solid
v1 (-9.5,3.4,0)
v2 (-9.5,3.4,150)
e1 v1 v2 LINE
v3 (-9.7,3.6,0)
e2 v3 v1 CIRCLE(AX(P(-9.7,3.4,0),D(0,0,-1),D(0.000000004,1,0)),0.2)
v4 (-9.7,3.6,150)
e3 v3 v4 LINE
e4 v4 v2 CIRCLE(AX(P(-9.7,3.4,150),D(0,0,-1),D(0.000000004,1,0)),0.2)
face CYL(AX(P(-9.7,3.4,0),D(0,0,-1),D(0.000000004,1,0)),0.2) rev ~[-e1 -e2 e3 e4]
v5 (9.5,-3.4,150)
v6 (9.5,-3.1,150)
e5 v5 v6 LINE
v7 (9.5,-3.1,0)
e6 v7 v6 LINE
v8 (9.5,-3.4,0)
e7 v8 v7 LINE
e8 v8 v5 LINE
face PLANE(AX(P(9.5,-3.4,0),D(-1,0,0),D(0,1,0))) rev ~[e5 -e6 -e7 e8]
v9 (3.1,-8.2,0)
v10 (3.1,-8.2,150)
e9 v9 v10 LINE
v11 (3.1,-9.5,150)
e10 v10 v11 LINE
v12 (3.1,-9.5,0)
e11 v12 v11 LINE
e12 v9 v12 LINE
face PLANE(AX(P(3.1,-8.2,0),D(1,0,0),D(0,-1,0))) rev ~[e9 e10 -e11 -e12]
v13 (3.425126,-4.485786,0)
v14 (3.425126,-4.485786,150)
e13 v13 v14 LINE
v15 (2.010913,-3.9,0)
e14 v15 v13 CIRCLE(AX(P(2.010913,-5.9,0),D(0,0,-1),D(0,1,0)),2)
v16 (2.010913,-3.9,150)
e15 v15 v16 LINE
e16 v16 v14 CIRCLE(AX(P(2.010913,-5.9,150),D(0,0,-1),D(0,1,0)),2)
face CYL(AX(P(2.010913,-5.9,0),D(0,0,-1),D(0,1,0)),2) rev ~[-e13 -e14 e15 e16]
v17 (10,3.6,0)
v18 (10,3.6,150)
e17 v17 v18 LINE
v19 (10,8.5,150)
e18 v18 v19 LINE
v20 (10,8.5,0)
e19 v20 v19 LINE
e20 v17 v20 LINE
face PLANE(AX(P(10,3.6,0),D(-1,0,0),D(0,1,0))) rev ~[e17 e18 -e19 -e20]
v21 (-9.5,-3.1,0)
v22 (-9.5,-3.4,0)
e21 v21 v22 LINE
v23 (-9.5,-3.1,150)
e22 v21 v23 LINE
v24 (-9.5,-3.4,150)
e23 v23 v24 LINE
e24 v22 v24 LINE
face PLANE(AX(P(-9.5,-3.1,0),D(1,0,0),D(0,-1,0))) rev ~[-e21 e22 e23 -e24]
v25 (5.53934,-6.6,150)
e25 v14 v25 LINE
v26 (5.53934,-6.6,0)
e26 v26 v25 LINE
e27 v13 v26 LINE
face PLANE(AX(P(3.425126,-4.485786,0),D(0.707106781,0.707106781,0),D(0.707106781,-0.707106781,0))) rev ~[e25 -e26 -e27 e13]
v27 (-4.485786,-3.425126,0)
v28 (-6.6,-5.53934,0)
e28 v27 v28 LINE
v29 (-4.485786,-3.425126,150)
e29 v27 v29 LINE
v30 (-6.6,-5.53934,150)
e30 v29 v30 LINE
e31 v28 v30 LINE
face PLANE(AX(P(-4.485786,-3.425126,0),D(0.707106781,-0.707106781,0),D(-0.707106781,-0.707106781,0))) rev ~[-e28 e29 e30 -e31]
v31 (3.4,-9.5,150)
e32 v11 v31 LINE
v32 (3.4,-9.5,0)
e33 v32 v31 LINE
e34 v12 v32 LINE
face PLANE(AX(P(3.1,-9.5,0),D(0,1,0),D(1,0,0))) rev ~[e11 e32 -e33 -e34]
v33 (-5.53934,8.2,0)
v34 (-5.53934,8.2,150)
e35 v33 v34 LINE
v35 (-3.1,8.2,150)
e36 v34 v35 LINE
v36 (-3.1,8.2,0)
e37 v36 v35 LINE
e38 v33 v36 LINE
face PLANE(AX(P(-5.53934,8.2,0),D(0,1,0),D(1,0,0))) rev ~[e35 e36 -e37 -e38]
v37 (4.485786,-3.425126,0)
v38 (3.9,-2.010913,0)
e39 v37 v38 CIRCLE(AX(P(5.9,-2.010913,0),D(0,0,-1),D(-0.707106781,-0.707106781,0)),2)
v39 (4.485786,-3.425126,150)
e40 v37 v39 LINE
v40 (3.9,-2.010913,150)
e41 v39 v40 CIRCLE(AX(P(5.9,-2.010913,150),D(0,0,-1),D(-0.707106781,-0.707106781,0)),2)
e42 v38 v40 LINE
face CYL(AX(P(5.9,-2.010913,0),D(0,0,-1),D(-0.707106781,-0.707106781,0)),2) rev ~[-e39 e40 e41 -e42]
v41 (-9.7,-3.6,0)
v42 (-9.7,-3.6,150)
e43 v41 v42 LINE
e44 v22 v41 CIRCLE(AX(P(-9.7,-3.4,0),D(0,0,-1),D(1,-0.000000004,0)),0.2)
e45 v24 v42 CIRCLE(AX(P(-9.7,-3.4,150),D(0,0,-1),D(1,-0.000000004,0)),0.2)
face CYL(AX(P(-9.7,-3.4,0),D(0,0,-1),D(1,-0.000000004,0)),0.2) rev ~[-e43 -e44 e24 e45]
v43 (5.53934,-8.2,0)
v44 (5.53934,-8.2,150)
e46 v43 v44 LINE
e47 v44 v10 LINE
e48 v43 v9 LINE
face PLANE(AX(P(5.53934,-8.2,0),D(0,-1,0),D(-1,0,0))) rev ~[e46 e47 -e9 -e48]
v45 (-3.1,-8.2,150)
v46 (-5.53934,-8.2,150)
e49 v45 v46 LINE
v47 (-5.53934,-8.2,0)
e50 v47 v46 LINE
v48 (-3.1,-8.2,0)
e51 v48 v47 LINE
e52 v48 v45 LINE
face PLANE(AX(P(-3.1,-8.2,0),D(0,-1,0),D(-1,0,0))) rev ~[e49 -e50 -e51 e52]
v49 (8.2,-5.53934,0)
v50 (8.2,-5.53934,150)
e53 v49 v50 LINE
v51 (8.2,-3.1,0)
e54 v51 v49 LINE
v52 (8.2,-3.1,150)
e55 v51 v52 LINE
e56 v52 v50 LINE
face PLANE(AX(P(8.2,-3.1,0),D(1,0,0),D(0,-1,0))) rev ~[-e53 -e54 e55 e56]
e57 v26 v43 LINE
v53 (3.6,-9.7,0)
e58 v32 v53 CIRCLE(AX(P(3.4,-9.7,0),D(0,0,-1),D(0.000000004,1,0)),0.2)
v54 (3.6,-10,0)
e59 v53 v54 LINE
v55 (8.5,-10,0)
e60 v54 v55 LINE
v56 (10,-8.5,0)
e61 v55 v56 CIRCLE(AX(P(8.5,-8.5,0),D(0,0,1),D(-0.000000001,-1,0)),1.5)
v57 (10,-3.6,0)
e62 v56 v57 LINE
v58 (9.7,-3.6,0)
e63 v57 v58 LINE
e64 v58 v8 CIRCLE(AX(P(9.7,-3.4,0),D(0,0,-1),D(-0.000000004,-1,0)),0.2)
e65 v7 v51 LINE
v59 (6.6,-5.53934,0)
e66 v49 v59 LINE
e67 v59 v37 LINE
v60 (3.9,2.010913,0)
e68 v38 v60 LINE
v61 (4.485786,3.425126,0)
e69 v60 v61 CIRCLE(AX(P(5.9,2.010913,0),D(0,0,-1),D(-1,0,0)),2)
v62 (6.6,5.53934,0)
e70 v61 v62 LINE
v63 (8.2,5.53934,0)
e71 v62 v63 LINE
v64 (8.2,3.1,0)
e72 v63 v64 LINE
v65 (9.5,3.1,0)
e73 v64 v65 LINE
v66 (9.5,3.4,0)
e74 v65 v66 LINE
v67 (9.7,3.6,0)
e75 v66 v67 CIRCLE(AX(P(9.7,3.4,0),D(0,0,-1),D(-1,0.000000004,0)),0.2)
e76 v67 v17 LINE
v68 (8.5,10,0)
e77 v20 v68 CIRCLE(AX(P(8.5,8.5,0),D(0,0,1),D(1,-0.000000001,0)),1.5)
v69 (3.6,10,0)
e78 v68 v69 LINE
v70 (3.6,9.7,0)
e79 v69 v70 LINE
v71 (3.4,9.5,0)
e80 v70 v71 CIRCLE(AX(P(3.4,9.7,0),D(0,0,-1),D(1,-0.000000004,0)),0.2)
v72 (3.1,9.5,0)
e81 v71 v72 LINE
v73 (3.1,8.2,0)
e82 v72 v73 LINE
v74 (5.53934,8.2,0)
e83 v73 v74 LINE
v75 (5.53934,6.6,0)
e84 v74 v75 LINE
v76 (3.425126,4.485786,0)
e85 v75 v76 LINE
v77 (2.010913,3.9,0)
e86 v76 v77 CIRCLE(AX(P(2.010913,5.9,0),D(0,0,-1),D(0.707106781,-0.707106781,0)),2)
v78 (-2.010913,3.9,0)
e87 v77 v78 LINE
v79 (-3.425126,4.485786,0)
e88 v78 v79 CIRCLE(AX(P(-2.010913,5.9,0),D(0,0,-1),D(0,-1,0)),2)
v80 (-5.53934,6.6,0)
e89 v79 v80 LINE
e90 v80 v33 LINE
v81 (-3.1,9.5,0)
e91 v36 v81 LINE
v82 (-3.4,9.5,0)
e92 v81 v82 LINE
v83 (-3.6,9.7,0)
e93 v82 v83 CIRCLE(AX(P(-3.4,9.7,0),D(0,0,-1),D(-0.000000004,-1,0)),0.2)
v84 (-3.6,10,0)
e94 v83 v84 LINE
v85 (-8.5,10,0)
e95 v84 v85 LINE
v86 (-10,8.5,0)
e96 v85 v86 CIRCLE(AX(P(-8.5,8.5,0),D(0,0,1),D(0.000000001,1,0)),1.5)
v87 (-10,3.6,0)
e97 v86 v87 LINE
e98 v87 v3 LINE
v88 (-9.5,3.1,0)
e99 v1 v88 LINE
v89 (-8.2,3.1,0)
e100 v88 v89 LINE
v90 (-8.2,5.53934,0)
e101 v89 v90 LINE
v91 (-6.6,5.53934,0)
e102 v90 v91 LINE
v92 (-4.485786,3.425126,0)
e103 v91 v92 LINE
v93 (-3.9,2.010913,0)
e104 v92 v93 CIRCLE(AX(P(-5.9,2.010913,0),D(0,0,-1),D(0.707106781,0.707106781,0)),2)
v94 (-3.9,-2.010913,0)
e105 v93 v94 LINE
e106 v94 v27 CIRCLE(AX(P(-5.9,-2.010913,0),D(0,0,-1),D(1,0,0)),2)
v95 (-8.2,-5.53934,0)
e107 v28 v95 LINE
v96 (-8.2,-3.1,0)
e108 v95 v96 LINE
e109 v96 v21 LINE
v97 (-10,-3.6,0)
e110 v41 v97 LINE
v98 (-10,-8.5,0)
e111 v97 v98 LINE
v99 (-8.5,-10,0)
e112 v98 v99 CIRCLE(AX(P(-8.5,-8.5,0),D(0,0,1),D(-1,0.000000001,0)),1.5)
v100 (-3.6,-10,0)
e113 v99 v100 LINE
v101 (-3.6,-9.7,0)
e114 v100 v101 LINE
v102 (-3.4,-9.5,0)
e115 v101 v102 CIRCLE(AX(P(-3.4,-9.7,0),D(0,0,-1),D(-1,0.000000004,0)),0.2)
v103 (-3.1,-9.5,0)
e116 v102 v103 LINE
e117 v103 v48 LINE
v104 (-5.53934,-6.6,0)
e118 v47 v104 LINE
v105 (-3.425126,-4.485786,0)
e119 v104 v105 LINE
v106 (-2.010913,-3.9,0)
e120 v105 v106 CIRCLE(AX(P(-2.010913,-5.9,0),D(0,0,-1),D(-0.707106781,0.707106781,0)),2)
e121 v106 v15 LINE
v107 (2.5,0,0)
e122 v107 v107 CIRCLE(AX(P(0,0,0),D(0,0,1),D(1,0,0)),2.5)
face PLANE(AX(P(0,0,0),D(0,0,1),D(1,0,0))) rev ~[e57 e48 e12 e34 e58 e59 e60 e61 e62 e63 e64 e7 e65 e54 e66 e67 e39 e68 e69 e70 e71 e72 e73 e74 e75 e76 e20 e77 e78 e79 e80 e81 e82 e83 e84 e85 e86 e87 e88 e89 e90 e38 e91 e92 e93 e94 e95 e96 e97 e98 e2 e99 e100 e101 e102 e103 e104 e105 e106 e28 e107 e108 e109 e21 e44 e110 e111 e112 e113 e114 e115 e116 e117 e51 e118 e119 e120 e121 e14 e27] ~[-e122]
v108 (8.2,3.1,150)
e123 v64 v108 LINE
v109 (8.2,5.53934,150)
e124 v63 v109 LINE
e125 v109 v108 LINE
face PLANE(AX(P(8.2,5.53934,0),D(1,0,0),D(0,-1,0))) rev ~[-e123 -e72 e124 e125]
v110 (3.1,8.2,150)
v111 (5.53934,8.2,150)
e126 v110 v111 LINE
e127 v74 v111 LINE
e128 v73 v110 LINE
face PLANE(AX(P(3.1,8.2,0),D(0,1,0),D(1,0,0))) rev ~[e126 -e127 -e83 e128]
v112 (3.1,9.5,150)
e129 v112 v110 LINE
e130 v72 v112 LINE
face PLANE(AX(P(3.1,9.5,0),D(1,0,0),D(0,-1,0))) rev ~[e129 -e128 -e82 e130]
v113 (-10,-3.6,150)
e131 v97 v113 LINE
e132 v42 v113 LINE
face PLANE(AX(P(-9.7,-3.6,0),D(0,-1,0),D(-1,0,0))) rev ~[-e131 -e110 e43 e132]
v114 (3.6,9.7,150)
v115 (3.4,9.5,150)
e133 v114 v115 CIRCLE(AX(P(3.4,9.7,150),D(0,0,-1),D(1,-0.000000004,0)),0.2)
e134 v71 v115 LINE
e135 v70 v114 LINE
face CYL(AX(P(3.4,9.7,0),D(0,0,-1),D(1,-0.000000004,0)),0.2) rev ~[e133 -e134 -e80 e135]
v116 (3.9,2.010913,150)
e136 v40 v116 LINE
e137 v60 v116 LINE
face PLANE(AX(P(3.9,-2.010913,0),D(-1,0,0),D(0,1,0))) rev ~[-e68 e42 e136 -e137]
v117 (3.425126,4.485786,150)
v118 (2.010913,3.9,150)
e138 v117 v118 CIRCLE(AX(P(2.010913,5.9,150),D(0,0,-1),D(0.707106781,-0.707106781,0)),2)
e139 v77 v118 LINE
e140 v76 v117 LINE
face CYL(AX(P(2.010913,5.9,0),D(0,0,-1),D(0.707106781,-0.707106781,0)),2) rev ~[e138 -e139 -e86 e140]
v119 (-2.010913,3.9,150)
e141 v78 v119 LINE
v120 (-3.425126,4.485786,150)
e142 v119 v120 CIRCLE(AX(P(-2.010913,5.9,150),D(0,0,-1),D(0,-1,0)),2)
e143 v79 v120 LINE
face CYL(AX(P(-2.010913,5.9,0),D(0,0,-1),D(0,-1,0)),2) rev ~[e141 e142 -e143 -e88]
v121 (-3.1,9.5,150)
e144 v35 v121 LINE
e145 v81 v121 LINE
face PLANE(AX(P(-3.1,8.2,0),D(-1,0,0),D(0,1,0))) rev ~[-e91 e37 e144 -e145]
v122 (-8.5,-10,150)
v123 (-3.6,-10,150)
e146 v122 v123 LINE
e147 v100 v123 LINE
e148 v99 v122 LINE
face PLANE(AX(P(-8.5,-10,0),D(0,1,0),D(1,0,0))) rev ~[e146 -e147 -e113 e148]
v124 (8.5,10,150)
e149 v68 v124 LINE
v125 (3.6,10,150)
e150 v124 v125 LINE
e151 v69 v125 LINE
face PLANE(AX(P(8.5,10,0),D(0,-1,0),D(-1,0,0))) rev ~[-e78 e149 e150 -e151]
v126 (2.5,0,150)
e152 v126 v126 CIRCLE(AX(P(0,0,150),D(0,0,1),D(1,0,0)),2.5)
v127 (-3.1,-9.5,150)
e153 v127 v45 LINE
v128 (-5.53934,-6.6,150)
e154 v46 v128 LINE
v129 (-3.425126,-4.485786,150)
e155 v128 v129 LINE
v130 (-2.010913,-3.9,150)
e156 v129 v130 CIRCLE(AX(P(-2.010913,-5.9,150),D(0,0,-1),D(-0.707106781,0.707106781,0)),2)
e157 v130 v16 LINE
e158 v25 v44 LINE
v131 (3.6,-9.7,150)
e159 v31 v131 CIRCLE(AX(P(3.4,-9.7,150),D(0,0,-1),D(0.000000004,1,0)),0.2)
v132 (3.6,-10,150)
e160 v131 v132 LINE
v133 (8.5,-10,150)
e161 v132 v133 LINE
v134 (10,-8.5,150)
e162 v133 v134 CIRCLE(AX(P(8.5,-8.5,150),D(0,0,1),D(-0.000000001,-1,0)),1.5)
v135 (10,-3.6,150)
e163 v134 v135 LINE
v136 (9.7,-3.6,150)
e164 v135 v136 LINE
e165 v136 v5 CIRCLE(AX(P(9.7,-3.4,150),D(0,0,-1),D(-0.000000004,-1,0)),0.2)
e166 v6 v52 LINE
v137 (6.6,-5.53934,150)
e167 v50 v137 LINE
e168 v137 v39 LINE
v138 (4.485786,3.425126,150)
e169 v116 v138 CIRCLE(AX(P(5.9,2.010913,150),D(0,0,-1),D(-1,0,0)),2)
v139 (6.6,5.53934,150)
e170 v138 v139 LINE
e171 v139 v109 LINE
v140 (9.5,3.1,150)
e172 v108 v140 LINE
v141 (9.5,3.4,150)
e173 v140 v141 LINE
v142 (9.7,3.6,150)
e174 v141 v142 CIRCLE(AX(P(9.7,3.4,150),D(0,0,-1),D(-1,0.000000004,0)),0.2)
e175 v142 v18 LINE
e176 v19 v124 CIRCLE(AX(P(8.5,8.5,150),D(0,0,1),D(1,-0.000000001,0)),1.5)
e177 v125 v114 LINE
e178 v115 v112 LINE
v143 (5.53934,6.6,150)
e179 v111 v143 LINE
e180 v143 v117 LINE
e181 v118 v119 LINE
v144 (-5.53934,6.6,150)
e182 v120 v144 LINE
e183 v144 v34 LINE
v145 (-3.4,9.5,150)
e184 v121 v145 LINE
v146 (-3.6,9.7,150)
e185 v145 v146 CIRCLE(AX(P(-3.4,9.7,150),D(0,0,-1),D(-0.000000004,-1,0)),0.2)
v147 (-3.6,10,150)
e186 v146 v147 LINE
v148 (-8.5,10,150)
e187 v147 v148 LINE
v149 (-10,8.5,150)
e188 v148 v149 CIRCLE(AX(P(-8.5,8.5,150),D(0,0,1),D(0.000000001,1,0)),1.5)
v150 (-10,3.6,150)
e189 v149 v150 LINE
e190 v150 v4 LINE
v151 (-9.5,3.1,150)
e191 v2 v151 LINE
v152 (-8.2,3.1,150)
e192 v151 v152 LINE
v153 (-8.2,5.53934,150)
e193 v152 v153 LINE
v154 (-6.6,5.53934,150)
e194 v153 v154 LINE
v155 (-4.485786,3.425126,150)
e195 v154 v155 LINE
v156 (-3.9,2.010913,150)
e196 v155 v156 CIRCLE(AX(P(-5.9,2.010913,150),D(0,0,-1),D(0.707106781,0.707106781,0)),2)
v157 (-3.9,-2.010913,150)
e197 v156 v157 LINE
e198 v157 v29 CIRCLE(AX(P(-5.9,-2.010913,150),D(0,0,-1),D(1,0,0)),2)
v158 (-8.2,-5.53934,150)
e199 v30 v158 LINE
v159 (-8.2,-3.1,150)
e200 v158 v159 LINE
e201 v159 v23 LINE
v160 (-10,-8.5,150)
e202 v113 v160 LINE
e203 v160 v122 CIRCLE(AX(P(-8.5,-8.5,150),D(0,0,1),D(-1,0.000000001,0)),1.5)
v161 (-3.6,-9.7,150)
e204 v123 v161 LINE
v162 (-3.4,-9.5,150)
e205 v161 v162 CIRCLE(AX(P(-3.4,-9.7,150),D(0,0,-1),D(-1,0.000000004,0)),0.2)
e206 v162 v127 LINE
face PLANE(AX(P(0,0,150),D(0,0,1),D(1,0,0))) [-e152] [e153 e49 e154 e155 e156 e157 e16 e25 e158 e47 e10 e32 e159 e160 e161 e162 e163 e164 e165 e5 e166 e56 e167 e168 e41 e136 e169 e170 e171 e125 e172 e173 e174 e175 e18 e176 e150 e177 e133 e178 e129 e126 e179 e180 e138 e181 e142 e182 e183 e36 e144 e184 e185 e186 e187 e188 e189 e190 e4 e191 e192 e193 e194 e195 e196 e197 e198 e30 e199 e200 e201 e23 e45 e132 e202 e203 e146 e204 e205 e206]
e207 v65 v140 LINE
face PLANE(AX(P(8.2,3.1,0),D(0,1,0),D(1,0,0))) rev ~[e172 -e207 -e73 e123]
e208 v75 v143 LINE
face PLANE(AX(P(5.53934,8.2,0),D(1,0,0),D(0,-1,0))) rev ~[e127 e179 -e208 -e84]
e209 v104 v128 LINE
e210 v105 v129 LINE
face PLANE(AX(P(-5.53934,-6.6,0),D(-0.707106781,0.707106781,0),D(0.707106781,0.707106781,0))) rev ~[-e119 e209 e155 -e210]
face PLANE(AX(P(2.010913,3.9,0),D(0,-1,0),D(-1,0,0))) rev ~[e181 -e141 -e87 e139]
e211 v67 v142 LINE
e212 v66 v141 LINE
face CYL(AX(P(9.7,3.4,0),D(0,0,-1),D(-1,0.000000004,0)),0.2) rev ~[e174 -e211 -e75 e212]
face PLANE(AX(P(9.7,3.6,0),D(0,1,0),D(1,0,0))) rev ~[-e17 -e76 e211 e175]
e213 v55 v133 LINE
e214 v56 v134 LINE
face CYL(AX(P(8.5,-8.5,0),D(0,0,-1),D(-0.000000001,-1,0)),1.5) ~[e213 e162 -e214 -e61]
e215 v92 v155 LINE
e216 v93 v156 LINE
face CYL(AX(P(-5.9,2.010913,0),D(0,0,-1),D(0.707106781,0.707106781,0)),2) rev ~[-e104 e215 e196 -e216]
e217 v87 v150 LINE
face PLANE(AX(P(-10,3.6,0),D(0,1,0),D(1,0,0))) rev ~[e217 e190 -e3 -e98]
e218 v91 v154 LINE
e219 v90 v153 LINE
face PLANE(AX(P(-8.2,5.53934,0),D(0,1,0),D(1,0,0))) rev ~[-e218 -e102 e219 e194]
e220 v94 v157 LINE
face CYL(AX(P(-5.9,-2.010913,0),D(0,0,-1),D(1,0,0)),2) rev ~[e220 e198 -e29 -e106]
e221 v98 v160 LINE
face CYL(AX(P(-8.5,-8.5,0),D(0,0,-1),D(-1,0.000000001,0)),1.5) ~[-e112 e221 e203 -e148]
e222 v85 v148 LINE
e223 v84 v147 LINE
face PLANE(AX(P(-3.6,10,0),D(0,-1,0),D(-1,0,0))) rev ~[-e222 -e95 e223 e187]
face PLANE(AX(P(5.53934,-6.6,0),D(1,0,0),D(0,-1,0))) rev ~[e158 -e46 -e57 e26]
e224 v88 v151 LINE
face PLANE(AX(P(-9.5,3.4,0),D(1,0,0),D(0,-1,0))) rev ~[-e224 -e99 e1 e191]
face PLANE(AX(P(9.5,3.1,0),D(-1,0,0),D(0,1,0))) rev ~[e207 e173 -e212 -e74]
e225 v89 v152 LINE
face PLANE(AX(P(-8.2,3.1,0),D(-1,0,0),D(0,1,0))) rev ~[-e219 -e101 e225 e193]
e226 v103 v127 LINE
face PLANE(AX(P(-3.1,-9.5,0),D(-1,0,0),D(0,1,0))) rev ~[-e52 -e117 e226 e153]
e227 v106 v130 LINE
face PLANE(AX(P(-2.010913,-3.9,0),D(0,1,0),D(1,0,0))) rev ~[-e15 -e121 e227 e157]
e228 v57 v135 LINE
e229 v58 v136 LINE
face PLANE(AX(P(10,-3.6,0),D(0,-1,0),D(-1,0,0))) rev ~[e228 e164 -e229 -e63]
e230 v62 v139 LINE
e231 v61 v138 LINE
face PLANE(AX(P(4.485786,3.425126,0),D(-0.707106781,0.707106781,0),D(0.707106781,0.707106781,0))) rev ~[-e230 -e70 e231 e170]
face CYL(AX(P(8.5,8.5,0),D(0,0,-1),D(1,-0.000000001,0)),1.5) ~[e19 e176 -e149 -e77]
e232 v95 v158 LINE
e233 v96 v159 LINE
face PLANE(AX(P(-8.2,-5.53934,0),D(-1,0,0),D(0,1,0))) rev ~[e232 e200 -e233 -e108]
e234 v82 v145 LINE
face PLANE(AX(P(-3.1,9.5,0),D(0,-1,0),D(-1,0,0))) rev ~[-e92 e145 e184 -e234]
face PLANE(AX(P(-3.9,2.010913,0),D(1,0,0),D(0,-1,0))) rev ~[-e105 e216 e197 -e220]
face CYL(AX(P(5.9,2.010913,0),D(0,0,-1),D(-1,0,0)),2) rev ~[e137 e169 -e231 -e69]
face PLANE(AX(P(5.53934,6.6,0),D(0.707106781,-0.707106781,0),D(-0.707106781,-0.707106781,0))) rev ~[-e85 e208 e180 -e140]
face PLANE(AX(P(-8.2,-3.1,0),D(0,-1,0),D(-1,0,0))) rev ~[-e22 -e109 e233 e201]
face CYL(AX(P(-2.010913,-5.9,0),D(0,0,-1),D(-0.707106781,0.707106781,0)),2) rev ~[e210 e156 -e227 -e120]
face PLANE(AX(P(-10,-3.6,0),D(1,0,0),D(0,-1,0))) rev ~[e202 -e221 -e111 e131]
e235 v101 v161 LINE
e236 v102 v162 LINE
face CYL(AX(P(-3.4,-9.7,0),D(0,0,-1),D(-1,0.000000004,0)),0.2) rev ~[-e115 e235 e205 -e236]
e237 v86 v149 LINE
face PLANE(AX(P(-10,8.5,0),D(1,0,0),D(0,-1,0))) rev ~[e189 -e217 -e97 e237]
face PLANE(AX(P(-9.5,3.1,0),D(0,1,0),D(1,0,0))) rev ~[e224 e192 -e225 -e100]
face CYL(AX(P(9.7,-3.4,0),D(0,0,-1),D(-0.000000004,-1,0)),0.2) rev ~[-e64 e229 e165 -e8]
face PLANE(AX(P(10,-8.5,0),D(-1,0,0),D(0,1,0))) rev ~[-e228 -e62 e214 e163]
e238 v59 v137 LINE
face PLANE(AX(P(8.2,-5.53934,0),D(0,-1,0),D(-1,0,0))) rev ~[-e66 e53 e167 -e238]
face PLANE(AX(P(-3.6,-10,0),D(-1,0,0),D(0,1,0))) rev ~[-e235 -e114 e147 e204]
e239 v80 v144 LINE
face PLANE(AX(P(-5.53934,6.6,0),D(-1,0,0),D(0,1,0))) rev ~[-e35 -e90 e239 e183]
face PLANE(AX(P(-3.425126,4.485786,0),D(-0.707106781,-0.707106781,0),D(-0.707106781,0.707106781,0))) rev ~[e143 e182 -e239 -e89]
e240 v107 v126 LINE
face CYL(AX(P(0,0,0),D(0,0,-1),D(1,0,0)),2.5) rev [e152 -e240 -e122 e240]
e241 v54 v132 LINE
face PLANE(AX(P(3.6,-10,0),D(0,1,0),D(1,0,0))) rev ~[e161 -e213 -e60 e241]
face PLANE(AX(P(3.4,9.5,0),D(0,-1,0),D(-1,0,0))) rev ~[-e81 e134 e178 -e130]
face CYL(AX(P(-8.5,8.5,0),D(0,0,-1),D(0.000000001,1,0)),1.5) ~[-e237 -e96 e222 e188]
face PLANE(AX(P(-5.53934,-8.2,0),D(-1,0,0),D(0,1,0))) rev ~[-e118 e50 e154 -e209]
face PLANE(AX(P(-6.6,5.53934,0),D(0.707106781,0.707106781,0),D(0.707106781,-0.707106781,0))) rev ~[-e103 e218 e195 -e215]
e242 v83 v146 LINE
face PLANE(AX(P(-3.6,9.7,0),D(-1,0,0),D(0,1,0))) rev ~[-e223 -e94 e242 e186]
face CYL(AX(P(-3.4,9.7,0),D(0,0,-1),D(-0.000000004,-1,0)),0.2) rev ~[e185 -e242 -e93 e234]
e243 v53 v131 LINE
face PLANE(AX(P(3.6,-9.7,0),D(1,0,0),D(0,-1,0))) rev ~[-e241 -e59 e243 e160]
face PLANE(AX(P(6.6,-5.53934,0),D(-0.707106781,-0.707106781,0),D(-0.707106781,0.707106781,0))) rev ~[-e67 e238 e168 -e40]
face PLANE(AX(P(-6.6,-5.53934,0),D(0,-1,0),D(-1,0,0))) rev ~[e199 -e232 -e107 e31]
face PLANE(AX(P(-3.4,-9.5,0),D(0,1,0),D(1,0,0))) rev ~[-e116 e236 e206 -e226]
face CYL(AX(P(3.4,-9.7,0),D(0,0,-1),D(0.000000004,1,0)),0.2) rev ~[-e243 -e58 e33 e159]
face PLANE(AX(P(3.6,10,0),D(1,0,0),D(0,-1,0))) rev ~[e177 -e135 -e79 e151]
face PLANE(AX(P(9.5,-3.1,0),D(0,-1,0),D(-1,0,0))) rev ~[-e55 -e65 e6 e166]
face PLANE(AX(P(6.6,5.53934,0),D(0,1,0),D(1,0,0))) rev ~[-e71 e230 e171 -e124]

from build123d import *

# Parameters (mm, degrees)
SKETCH1_R      = 2.5
EXTRUDE1_DEPTH = 150


with BuildPart() as part:
    # Sketch1 → Extrude1 (new body)
    with BuildSketch(Plane.XY):
        with BuildLine():
            Line((0, 3.9), (-2.010912703, 3.9))
            ThreePointArc((-2.010912703, 3.9), (-2.776279568, 4.052240935), (-3.425126266, 4.485786438))
            Line((-3.425126266, 4.485786438), (-5.539339828, 6.6))
            Line((-5.539339828, 6.6), (-5.539339828, 8.2))
            Line((-5.539339828, 8.2), (-3.1, 8.2))
            Line((-3.1, 8.2), (-3.1, 9.5))
            Line((-3.1, 9.5), (-3.4, 9.5))
            ThreePointArc((-3.4, 9.5), (-3.541421356, 9.558578644), (-3.6, 9.7))
            Line((-3.6, 9.7), (-3.6, 10))
            Line((-3.6, 10), (-8.5, 10))
            ThreePointArc((-8.5, 10), (-9.560660172, 9.560660172), (-10, 8.5))
            Line((-10, 8.5), (-10, 3.6))
            Line((-10, 3.6), (-9.7, 3.6))
            ThreePointArc((-9.7, 3.6), (-9.558578644, 3.541421356), (-9.5, 3.4))
            Line((-9.5, 3.4), (-9.5, 3.1))
            Line((-9.5, 3.1), (-8.2, 3.1))
            Line((-8.2, 3.1), (-8.2, 5.539339828))
            Line((-8.2, 5.539339828), (-6.6, 5.539339828))
            Line((-6.6, 5.539339828), (-4.485786438, 3.425126266))
            ThreePointArc((-4.485786438, 3.425126266), (-4.052240935, 2.776279568), (-3.9, 2.010912703))
            Line((-3.9, 2.010912703), (-3.9, 0))
            Line((-3.9, 0), (-3.9, -2.010912703))
            ThreePointArc((-3.9, -2.010912703), (-4.052240935, -2.776279568), (-4.485786438, -3.425126266))
            Line((-4.485786438, -3.425126266), (-6.6, -5.539339828))
            Line((-6.6, -5.539339828), (-8.2, -5.539339828))
            Line((-8.2, -5.539339828), (-8.2, -3.1))
            Line((-8.2, -3.1), (-9.5, -3.1))
            Line((-9.5, -3.1), (-9.5, -3.4))
            ThreePointArc((-9.5, -3.4), (-9.558578644, -3.541421356), (-9.7, -3.6))
            Line((-9.7, -3.6), (-10, -3.6))
            Line((-10, -3.6), (-10, -8.5))
            ThreePointArc((-10, -8.5), (-9.560660172, -9.560660172), (-8.5, -10))
            Line((-8.5, -10), (-3.6, -10))
            Line((-3.6, -10), (-3.6, -9.7))
            ThreePointArc((-3.6, -9.7), (-3.541421356, -9.558578644), (-3.4, -9.5))
            Line((-3.4, -9.5), (-3.1, -9.5))
            Line((-3.1, -9.5), (-3.1, -8.2))
            Line((-3.1, -8.2), (-5.539339828, -8.2))
            Line((-5.539339828, -8.2), (-5.539339828, -6.6))
            Line((-5.539339828, -6.6), (-3.425126266, -4.485786438))
            ThreePointArc((-3.425126266, -4.485786438), (-2.776279568, -4.052240935), (-2.010912703, -3.9))
            Line((-2.010912703, -3.9), (0, -3.9))
            Line((0, -3.9), (2.010912703, -3.9))
            ThreePointArc((2.010912703, -3.9), (2.776279568, -4.052240935), (3.425126266, -4.485786438))
            Line((3.425126266, -4.485786438), (5.539339828, -6.6))
            Line((5.539339828, -6.6), (5.539339828, -8.2))
            Line((5.539339828, -8.2), (3.1, -8.2))
            Line((3.1, -8.2), (3.1, -9.5))
            Line((3.1, -9.5), (3.4, -9.5))
            ThreePointArc((3.4, -9.5), (3.541421356, -9.558578644), (3.6, -9.7))
            Line((3.6, -9.7), (3.6, -10))
            Line((3.6, -10), (8.5, -10))
            ThreePointArc((8.5, -10), (9.560660172, -9.560660172), (10, -8.5))
            Line((10, -8.5), (10, -3.6))
            Line((10, -3.6), (9.7, -3.6))
            ThreePointArc((9.7, -3.6), (9.558578644, -3.541421356), (9.5, -3.4))
            Line((9.5, -3.4), (9.5, -3.1))
            Line((9.5, -3.1), (8.2, -3.1))
            Line((8.2, -3.1), (8.2, -5.539339828))
            Line((8.2, -5.539339828), (6.6, -5.539339828))
            Line((6.6, -5.539339828), (4.485786438, -3.425126266))
            ThreePointArc((4.485786438, -3.425126266), (4.052240935, -2.776279568), (3.9, -2.010912703))
            Line((3.9, -2.010912703), (3.9, 0))
            Line((3.9, 0), (3.9, 2.010912703))
            ThreePointArc((3.9, 2.010912703), (4.052240935, 2.776279568), (4.485786438, 3.425126266))
            Line((4.485786438, 3.425126266), (6.6, 5.539339828))
            Line((6.6, 5.539339828), (8.2, 5.539339828))
            Line((8.2, 5.539339828), (8.2, 3.1))
            Line((8.2, 3.1), (9.5, 3.1))
            Line((9.5, 3.1), (9.5, 3.4))
            ThreePointArc((9.5, 3.4), (9.558578644, 3.541421356), (9.7, 3.6))
            Line((9.7, 3.6), (10, 3.6))
            Line((10, 3.6), (10, 8.5))
            ThreePointArc((10, 8.5), (9.560660172, 9.560660172), (8.5, 10))
            Line((8.5, 10), (3.6, 10))
            Line((3.6, 10), (3.6, 9.7))
            ThreePointArc((3.6, 9.7), (3.541421356, 9.558578644), (3.4, 9.5))
            Line((3.4, 9.5), (3.1, 9.5))
            Line((3.1, 9.5), (3.1, 8.2))
            Line((3.1, 8.2), (5.539339828, 8.2))
            Line((5.539339828, 8.2), (5.539339828, 6.6))
            Line((5.539339828, 6.6), (3.425126266, 4.485786438))
            ThreePointArc((3.425126266, 4.485786438), (2.776279568, 4.052240935), (2.010912703, 3.9))
            Line((2.010912703, 3.9), (0, 3.9))
        make_face()
        Circle(SKETCH1_R, mode=Mode.SUBTRACT)
    extrude(amount=EXTRUDE1_DEPTH)


solid = part.part
